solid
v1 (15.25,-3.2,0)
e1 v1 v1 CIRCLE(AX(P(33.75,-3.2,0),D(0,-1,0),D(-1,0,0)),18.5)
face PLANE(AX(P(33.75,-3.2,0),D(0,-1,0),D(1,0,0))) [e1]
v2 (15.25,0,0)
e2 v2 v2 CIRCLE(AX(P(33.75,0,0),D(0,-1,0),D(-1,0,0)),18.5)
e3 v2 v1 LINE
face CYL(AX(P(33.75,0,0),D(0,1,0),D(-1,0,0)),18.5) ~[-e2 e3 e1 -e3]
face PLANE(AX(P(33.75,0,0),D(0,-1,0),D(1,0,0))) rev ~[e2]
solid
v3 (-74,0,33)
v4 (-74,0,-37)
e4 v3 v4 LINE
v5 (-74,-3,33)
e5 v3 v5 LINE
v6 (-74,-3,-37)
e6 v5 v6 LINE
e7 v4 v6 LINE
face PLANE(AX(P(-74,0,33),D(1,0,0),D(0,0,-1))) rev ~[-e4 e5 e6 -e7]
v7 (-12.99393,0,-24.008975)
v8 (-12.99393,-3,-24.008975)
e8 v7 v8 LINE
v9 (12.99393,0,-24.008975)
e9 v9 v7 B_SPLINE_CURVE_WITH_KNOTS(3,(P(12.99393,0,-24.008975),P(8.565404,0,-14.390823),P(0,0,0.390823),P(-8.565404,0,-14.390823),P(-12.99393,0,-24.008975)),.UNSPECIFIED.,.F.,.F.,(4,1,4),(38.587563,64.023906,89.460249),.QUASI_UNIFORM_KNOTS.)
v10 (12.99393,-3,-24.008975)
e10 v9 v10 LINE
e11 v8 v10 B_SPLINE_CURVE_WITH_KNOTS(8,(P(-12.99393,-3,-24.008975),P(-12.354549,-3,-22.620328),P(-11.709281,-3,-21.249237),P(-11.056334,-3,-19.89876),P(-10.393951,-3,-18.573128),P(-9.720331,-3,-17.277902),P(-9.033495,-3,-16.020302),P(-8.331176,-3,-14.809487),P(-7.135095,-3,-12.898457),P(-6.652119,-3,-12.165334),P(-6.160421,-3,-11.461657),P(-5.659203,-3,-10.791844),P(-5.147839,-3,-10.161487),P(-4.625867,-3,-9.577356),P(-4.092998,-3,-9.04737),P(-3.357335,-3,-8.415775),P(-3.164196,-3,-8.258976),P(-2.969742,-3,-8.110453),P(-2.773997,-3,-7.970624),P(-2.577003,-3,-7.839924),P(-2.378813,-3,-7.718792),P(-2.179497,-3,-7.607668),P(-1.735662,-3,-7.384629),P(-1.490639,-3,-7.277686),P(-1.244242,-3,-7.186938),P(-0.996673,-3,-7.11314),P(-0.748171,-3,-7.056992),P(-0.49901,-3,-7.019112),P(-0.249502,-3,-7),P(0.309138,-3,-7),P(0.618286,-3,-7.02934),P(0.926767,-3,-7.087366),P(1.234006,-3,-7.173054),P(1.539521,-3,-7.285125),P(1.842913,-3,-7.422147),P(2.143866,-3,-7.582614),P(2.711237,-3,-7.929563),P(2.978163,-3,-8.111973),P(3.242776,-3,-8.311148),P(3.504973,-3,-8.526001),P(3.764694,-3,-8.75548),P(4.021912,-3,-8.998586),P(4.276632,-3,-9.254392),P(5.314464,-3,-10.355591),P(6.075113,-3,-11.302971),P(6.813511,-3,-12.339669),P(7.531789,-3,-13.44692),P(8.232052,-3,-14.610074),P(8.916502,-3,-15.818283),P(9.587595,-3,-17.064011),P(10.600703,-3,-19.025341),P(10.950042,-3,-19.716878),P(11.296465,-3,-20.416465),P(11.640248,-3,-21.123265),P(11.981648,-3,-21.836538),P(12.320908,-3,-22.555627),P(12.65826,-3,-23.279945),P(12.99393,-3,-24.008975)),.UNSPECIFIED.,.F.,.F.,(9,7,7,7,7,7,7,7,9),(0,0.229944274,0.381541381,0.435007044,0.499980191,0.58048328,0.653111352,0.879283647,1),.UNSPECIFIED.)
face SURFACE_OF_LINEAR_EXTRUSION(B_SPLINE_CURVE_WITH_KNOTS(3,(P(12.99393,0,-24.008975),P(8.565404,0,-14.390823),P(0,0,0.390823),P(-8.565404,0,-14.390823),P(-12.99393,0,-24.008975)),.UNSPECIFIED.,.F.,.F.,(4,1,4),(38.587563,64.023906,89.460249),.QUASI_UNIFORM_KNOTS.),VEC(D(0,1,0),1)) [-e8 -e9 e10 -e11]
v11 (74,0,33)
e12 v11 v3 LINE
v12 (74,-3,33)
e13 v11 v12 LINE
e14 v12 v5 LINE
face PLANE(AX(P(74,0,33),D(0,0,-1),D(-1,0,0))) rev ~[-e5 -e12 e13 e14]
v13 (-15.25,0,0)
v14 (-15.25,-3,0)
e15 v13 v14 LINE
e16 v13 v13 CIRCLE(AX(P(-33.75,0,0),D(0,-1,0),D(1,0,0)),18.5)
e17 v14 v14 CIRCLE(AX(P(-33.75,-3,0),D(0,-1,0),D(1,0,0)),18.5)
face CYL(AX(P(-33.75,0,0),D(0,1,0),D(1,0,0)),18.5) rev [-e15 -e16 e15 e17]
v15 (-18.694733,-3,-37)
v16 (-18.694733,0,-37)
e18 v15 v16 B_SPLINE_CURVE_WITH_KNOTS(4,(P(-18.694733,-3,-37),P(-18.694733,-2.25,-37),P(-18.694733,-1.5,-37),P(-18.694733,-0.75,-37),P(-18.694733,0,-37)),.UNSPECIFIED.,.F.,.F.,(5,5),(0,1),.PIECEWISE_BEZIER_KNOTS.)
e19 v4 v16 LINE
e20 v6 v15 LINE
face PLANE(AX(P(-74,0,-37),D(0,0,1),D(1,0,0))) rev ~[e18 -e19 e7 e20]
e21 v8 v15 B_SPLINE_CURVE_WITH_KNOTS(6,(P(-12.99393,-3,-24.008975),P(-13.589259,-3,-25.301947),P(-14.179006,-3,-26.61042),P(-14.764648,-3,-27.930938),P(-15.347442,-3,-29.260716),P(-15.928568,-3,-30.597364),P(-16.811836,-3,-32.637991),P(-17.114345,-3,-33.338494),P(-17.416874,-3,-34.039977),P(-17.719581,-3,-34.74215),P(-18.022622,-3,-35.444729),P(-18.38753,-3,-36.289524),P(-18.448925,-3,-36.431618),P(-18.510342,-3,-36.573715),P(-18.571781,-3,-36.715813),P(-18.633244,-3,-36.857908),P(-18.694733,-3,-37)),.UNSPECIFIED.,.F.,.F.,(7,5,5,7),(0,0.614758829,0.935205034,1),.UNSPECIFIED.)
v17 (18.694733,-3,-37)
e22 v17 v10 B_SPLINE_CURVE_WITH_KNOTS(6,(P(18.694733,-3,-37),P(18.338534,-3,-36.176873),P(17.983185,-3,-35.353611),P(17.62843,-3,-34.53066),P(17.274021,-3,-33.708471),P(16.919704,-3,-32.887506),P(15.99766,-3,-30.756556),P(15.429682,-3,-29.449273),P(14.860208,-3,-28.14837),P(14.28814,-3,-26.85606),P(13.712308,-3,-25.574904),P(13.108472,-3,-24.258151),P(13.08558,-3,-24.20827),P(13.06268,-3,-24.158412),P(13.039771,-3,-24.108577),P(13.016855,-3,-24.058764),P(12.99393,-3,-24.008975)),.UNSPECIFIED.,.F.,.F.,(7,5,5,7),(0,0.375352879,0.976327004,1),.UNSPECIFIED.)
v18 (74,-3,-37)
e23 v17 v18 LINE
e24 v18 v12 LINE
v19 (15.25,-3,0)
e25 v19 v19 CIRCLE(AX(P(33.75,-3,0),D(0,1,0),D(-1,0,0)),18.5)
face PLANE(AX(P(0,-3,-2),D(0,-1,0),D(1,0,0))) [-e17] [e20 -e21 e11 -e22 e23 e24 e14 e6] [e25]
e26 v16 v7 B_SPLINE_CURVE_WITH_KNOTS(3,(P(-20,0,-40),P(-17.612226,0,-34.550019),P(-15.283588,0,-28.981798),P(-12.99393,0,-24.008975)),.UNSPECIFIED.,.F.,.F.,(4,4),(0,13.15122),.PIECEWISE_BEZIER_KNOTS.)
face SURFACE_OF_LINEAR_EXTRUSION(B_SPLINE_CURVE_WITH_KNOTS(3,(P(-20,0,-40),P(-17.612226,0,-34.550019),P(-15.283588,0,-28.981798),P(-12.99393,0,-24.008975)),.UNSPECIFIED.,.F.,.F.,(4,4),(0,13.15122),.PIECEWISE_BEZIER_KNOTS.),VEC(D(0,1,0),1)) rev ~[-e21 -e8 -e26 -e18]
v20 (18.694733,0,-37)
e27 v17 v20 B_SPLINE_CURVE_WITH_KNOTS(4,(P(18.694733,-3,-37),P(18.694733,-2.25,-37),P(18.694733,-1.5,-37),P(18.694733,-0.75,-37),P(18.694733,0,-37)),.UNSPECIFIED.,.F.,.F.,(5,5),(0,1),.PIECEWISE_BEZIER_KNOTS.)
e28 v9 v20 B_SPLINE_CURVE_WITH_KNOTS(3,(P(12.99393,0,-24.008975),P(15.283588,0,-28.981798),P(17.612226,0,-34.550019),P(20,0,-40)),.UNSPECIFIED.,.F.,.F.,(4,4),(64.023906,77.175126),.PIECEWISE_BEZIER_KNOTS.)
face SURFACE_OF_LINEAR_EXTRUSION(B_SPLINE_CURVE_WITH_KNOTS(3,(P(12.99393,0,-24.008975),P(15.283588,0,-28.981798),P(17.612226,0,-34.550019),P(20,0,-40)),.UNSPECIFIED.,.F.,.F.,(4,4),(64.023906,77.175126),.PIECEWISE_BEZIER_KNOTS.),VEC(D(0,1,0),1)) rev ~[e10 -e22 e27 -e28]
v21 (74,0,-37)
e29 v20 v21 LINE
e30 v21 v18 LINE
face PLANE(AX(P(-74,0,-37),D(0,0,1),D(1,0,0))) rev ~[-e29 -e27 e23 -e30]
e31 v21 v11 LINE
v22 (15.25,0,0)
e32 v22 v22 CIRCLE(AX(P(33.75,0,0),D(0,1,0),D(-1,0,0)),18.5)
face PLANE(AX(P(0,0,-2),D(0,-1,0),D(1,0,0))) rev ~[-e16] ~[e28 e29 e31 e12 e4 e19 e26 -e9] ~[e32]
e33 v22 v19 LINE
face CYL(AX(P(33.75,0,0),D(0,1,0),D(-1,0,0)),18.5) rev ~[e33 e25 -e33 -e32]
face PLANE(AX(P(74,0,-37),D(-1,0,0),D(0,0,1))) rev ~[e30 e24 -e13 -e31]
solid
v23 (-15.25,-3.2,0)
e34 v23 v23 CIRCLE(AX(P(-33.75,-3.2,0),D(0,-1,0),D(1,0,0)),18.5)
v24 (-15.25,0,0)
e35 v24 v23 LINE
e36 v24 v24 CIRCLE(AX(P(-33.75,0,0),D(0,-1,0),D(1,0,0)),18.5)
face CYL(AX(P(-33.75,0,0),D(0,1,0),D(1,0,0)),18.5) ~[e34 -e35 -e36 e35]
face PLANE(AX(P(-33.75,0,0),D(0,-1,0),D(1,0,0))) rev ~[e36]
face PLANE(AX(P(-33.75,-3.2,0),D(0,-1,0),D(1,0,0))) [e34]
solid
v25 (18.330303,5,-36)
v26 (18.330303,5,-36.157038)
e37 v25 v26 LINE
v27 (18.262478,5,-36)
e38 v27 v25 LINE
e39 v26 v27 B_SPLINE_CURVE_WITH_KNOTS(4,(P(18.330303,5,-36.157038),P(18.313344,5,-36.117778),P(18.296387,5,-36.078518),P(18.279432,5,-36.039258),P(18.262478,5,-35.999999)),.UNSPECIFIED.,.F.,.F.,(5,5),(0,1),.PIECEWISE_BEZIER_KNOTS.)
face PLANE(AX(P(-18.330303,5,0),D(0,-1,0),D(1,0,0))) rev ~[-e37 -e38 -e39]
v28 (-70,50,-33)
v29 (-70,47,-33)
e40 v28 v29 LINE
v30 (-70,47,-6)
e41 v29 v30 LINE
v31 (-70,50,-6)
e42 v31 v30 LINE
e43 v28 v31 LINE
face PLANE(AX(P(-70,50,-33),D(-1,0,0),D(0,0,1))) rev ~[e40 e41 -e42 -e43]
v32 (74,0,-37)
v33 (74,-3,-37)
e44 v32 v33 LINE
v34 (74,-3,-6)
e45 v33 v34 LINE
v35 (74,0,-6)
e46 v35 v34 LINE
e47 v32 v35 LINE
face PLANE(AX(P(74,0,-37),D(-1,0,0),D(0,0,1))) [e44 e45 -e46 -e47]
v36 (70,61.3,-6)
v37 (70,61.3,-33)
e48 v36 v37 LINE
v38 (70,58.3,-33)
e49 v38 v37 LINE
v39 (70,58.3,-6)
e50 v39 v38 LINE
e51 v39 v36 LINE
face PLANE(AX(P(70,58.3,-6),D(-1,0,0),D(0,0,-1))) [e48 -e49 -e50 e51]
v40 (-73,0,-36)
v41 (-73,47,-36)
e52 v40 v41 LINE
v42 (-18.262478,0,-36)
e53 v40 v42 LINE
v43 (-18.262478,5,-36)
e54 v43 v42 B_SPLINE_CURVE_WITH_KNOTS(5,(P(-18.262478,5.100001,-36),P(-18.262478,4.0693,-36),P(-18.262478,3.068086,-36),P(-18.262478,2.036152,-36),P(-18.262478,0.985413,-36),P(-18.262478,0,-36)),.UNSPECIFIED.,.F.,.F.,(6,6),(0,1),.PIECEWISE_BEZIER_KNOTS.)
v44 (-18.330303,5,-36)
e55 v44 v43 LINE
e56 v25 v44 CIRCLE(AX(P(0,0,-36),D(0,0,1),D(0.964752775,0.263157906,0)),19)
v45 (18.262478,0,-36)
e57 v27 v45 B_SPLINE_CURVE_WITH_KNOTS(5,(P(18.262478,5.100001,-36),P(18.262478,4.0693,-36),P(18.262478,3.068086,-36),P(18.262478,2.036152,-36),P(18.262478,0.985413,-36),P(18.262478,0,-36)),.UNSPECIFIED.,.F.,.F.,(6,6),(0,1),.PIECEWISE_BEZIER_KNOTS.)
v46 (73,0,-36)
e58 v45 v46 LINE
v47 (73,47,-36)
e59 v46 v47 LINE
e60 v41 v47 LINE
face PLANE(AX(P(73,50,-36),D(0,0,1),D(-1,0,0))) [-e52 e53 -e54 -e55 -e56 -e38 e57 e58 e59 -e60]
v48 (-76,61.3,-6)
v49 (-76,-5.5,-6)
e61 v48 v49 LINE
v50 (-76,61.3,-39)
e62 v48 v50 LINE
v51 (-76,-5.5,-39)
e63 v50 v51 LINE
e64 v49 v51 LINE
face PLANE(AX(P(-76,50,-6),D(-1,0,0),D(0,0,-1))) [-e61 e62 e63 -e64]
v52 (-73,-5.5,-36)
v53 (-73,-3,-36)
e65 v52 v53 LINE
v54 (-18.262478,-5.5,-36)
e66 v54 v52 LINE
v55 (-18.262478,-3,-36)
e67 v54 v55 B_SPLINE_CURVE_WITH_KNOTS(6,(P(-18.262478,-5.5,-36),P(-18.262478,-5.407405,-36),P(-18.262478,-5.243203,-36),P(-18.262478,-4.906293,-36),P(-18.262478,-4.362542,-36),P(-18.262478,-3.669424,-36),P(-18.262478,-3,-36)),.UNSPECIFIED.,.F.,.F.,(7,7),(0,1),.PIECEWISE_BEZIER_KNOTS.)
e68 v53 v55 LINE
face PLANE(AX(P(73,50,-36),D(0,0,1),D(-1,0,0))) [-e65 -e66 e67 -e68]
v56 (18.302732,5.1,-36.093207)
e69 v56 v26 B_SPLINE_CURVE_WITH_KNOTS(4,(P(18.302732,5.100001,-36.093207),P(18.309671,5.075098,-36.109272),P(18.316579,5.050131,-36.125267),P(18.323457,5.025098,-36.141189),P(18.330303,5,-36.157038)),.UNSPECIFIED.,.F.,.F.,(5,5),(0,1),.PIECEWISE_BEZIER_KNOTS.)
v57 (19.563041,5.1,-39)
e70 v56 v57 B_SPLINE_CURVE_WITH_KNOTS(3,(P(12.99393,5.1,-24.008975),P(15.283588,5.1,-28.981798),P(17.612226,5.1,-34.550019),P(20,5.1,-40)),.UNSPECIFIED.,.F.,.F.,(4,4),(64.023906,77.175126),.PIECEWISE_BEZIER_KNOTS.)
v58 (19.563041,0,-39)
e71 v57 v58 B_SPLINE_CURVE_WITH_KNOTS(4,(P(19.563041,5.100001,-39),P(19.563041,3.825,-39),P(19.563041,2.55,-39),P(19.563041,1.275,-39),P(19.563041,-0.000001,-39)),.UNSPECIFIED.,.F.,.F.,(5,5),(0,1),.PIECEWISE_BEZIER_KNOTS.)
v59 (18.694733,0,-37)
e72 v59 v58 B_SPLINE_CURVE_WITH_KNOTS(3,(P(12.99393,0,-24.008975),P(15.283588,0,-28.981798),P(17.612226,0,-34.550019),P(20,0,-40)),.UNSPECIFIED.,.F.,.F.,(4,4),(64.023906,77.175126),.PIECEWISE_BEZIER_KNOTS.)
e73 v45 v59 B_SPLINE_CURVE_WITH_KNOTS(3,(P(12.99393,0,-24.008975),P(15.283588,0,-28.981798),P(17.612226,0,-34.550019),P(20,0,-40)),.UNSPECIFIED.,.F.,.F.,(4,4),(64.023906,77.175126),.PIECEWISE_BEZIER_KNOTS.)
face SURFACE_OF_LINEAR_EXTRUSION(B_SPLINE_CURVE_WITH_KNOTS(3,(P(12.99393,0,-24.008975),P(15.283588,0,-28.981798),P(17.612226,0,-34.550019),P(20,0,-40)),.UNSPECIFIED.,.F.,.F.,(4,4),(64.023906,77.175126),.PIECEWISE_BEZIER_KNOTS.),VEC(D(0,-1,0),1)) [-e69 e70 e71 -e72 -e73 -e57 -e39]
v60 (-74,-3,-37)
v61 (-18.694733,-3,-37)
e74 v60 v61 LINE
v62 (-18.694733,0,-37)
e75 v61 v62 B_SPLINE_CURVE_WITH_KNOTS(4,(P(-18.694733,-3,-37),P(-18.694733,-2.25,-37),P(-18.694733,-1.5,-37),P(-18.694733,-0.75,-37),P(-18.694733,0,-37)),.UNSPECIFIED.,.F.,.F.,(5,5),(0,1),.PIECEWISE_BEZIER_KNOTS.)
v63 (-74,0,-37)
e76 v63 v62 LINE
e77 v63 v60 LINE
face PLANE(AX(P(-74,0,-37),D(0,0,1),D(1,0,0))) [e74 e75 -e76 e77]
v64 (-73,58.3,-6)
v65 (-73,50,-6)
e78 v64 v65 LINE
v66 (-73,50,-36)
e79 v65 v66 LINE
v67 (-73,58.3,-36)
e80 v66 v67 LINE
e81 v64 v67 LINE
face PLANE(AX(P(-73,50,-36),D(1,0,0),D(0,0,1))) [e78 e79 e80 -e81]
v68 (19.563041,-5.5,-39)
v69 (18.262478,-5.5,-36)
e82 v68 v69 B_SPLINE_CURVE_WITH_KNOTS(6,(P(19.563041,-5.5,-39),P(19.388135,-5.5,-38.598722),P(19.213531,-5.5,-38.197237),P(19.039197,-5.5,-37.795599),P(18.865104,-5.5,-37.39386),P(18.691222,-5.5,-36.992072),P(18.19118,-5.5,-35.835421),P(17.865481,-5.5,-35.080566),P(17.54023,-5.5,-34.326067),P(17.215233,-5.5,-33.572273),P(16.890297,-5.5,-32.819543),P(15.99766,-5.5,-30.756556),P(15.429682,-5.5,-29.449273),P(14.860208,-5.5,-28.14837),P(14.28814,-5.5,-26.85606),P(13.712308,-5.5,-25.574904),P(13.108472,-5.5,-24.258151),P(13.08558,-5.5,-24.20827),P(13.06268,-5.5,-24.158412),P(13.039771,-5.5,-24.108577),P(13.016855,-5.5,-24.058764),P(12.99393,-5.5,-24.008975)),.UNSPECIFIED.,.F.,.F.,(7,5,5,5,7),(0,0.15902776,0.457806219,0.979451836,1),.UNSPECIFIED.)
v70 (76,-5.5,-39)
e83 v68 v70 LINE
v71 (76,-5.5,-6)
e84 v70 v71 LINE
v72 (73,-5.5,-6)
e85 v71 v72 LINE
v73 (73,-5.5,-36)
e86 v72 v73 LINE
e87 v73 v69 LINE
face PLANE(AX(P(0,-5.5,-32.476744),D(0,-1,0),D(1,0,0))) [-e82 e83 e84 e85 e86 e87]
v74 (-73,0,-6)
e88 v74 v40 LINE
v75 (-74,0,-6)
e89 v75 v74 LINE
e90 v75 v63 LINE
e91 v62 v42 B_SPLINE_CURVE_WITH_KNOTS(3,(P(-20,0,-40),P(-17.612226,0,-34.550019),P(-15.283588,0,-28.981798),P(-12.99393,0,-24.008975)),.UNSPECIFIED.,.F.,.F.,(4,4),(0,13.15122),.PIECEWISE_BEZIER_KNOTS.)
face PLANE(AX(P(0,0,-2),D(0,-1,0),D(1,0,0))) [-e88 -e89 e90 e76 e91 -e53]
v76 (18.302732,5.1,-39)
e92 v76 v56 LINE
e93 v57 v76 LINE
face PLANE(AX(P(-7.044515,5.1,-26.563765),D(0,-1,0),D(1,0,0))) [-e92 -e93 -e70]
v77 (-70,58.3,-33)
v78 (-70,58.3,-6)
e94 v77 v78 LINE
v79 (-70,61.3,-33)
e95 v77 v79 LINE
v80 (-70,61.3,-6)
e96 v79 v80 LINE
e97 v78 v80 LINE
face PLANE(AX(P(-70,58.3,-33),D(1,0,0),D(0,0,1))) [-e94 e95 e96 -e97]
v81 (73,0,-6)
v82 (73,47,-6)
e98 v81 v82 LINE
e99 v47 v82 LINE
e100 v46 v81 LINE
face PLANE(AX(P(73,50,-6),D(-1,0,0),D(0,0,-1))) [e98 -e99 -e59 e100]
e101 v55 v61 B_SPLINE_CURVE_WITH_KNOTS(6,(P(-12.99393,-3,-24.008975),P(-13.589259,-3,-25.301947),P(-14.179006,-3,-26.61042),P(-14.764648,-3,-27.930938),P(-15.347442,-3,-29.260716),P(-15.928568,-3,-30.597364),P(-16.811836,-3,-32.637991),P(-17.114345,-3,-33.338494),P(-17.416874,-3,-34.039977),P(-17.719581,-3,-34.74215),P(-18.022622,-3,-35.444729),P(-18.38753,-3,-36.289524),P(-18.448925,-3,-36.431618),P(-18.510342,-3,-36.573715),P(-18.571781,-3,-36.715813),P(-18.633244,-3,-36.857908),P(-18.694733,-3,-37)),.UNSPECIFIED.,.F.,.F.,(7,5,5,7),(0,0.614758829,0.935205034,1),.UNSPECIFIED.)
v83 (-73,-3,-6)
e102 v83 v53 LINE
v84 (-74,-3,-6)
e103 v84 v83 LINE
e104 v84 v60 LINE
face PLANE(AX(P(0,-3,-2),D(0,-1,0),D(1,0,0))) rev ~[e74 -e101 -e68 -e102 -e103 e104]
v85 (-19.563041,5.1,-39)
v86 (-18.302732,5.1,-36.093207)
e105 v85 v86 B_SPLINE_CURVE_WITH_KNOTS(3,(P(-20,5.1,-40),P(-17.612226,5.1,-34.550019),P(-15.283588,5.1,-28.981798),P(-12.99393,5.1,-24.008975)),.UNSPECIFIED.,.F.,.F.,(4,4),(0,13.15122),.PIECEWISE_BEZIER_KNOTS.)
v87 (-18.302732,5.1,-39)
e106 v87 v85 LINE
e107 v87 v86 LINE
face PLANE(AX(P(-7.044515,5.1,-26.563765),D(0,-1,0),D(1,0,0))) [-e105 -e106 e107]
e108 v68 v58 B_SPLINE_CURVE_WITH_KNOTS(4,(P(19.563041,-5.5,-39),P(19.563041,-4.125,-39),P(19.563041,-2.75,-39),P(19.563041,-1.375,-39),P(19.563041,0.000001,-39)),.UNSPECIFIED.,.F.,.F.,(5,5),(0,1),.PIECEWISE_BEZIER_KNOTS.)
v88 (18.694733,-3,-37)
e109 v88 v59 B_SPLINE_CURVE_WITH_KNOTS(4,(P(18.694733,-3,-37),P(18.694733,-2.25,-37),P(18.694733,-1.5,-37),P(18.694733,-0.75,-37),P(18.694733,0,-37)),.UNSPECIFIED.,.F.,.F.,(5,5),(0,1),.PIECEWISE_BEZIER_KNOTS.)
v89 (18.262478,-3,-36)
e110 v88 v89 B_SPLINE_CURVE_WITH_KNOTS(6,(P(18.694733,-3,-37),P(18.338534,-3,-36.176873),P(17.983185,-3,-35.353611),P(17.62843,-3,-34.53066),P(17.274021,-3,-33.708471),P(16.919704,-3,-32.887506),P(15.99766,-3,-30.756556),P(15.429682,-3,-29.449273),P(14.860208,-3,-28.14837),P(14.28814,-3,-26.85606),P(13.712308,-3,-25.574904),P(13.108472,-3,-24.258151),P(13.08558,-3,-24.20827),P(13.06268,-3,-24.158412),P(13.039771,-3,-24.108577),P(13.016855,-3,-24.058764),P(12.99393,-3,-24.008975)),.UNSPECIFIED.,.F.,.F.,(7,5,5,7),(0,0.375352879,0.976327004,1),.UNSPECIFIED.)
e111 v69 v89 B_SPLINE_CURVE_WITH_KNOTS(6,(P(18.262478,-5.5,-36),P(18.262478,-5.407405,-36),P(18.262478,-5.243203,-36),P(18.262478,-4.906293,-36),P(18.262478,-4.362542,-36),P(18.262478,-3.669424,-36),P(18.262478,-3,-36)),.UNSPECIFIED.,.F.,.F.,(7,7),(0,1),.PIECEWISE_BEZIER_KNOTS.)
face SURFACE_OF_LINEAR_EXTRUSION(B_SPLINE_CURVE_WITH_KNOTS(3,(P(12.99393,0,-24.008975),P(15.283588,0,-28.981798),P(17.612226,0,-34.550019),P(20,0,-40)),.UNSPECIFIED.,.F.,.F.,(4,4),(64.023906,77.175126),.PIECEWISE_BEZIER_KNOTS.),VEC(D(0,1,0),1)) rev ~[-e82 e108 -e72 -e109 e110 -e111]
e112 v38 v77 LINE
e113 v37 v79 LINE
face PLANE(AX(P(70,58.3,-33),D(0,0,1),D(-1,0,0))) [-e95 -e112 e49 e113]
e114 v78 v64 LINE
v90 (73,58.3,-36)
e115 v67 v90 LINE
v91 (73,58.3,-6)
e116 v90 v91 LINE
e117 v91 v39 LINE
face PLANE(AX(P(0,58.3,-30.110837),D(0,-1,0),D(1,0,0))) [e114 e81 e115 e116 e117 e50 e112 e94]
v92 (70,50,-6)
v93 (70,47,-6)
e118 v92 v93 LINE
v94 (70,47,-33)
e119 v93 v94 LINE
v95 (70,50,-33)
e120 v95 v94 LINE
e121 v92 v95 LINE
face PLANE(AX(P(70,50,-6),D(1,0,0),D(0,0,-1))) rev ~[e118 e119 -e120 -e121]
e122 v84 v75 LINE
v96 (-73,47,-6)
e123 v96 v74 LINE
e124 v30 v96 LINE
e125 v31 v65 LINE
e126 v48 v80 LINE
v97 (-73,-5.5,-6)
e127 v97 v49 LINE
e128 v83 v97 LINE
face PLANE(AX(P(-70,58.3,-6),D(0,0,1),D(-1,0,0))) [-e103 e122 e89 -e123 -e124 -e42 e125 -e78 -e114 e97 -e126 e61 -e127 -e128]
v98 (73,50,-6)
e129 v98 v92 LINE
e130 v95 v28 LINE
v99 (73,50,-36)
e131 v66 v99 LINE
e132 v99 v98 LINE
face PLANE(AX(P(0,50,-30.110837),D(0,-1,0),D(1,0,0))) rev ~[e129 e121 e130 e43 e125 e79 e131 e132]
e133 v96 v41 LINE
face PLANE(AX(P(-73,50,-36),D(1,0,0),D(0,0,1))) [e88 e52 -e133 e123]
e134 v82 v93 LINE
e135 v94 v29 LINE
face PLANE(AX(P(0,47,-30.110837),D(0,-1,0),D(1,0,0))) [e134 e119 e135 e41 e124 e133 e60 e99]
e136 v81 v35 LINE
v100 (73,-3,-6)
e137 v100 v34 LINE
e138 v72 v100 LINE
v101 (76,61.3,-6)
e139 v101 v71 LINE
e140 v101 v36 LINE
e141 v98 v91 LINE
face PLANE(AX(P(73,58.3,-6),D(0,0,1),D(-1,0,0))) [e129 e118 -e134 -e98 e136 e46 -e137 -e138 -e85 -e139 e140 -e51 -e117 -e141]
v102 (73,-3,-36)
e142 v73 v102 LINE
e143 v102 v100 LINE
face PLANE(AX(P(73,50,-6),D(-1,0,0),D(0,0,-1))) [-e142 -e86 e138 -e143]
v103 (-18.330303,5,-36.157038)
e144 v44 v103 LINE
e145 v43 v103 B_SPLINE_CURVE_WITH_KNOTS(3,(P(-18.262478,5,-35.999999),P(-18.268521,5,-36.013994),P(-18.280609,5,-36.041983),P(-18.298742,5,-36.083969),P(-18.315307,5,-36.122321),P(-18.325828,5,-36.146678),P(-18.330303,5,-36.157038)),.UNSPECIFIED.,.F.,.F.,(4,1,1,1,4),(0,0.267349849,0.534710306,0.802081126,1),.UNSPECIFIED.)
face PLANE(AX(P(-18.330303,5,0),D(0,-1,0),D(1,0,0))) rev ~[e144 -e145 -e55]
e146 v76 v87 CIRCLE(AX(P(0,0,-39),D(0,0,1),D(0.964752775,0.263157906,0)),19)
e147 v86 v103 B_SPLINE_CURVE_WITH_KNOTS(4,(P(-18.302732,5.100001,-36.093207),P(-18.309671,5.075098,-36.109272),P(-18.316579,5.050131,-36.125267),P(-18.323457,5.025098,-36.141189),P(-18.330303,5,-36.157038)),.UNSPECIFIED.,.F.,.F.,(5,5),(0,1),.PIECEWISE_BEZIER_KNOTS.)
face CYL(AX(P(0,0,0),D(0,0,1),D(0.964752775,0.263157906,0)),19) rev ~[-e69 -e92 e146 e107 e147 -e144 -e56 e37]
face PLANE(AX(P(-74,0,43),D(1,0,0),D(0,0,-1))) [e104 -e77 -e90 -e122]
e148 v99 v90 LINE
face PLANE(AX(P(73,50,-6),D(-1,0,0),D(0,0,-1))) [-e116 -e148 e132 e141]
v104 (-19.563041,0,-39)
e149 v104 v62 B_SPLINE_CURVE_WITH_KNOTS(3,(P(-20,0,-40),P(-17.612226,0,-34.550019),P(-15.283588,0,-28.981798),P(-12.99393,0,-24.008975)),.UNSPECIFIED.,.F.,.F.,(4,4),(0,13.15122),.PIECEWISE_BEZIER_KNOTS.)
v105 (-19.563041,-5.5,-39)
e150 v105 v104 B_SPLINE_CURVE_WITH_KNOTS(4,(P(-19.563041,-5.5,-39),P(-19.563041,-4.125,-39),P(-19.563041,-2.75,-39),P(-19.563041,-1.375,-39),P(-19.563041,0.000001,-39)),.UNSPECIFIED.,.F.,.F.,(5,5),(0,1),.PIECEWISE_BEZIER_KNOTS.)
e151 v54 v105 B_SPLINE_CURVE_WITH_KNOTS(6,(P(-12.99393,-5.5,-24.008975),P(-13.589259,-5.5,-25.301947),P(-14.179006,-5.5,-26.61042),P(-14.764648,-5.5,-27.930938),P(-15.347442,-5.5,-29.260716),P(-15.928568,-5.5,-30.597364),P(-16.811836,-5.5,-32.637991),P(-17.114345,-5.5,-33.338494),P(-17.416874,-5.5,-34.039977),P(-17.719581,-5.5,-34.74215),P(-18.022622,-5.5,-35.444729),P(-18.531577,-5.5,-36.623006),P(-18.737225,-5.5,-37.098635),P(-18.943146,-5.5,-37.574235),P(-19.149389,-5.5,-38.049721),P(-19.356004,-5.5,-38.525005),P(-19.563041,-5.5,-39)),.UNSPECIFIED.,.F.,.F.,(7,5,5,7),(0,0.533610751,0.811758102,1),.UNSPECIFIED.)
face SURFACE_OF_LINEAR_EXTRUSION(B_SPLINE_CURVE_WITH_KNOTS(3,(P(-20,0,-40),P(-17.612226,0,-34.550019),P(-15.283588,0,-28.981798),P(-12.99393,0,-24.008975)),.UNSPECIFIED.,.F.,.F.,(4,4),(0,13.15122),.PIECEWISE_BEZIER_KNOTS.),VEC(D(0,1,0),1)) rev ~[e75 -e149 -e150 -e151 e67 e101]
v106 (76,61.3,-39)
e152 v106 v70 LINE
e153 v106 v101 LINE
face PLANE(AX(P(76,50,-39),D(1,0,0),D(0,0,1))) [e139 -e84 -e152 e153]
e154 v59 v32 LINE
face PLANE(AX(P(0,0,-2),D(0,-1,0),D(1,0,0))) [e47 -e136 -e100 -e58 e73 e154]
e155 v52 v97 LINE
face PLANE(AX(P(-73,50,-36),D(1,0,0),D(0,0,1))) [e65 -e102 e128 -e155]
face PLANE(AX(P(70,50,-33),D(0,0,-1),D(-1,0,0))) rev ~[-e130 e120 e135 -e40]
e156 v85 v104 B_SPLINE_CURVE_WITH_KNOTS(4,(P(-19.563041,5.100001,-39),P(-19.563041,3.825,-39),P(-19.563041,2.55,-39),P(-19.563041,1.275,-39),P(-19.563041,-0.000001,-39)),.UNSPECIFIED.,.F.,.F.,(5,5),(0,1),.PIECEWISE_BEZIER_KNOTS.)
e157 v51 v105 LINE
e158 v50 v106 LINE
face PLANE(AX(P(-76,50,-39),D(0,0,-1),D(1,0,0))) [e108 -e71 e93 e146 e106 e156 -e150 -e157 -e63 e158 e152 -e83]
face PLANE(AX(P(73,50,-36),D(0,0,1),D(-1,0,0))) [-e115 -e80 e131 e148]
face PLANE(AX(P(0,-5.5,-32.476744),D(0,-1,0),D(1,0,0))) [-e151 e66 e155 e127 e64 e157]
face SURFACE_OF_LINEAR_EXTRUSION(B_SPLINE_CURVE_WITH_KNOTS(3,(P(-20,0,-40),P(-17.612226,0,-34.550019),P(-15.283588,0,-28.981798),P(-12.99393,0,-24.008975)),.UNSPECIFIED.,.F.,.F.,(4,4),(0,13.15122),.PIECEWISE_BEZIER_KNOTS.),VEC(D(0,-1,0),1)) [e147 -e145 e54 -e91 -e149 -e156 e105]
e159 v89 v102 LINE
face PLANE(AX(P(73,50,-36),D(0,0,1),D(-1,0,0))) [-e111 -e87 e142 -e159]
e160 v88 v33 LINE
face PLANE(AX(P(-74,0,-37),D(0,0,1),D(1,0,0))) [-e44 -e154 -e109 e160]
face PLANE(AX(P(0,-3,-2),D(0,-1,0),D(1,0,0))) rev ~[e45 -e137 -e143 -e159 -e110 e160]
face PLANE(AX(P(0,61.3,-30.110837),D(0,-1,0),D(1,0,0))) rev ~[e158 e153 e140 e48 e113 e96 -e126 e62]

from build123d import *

# Parameters (mm, degrees)
F0_R           = 18.5
F1_DEPTH       = 3.2
F5_DEPTH       = 55.5
F5_DEPTH_BACK  = 11.3
F6_R           = 18.5
F7_DEPTH       = 3
F8_DEPTH       = 3
F10_DEPTH      = 26.3
F10_DEPTH_BACK = 5.1
F12_DEPTH      = 63.1
F14_DEPTH      = 3
F17_DEPTH      = 3


with BuildPart() as f1:
    # F0 (on Front) → F1 (new body)
    with BuildSketch(Plane.XZ):
        with BuildLine():
            ThreePointArc((52.25, 0), (33.75, 18.5), (15.25, 0))
            ThreePointArc((15.25, 0), (33.75, -18.5), (52.25, 0))
        make_face()
        with Locations((-33.75, 0)):
            Circle(F0_R)
    extrude(amount=F1_DEPTH)


with BuildPart() as f5:
    # F4 (on offset) → F5 (new body, two sides)
    with BuildSketch(Plane.XZ.offset(-50)) as f5_sk:
        Polygon((-73, -36), (-73, -6), (-76, -6), (-76, -39), (76, -39), (76, -6), (73, -6), (73, -36), (0, -36), align=None)
    extrude(amount=F5_DEPTH)
    extrude(f5_sk.sketch, amount=-F5_DEPTH_BACK)

    # F6 (on Front) → F7 (cut)
    with BuildSketch(Plane.XZ):
        Polygon((74, 33), (0, 33), (-74, 33), (-74, -37), (74, -37), align=None)
        with Locations((-33.75, 0)):
            Circle(F6_R, mode=Mode.SUBTRACT)
        with BuildLine():
            ThreePointArc((52.25, 0), (33.75, -18.5), (15.25, 0))
            ThreePointArc((15.25, 0), (33.75, 18.5), (52.25, 0))
        make_face(mode=Mode.SUBTRACT)
        Polygon((-74, 33), (0, 33), (74, 33), (74, 43), (-74, 43), align=None)
    extrude(amount=F7_DEPTH, mode=Mode.SUBTRACT)


with BuildPart() as f8:
    # F6 (on Front) → F8 (new body)
    with BuildSketch(Plane.XZ):
        Polygon((74, 33), (0, 33), (-74, 33), (-74, -37), (74, -37), align=None)
        with Locations((-33.75, 0)):
            Circle(F6_R, mode=Mode.SUBTRACT)
        with BuildLine():
            ThreePointArc((52.25, 0), (33.75, -18.5), (15.25, 0))
            ThreePointArc((15.25, 0), (33.75, 18.5), (52.25, 0))
        make_face(mode=Mode.SUBTRACT)
    extrude(amount=F8_DEPTH)


with BuildPart() as f10_tool:
    # F9 (on Front) → F10 (new body, two sides)
    with BuildSketch(Plane.XZ) as f10_sk:
        with BuildLine():
            Line((-12.99393, -24.008975), (-20, -40))
            Line((-20, -40), (0, -40))
            Line((0, -40), (0, -7))
            add(Edge.make_bspline(
                [(-12.99393, -24.008975), (-8.565404, -14.390823), (-4.282702, -7), (0, -7)],
                knots=[13.15122, 13.15122, 13.15122, 13.15122, 38.587563, 38.587563, 38.587563, 38.587563], degree=3))
        make_face()
        with BuildLine():
            add(Edge.make_bspline(
                [(-20, -40), (-17.612226, -34.550019), (-15.283588, -28.981798), (-12.99393, -24.008975)],
                knots=[0, 0, 0, 0, 13.15122, 13.15122, 13.15122, 13.15122], degree=3))
            Line((-20, -40), (-12.99393, -24.008975))
        make_face()
        with BuildLine():
            Line((0, -7), (0, -40))
            Line((0, -40), (20, -40))
            Line((20, -40), (12.99393, -24.008975))
            add(Edge.make_bspline(
                [(0, -7), (4.282702, -7), (8.565404, -14.390823), (12.99393, -24.008975)],
                knots=[38.587563, 38.587563, 38.587563, 38.587563, 64.023906, 64.023906, 64.023906, 64.023906], degree=3))
        make_face()
        with BuildLine():
            Line((12.99393, -24.008975), (20, -40))
            add(Edge.make_bspline(
                [(12.99393, -24.008975), (15.283588, -28.981798), (17.612226, -34.550019), (20, -40)],
                knots=[64.023906, 64.023906, 64.023906, 64.023906, 77.175126, 77.175126, 77.175126, 77.175126], degree=3))
        make_face()
    extrude(amount=F10_DEPTH)
    extrude(f10_sk.sketch, amount=-F10_DEPTH_BACK)


with BuildPart() as f5_1:
    add(f5.part)

    # F10: cut by f10_tool
    add(f10_tool.part, mode=Mode.SUBTRACT)

    # F11 (on Top) → F12 (cut)
    with BuildSketch(Plane.XY):
        with BuildLine():
            Line((-18.330303, 5), (18.330303, 5))
            ThreePointArc((18.330303, 5), (0, 19), (-18.330303, 5))
        make_face()
    extrude(amount=-F12_DEPTH, mode=Mode.SUBTRACT)

    # F13 (on offset) → F14 (join)
    with BuildSketch(Plane.XZ.offset(-50)):
        Polygon((73, -36), (73, -6), (70, -6), (70, -33), (-70, -33), (-70, -6), (-73, -6), (-73, -36), align=None)
    extrude(amount=F14_DEPTH)

    # F16 (on offset) → F17 (join)
    with BuildSketch(Plane.XZ.offset(-58.3)):
        Polygon((73, -36), (73, -6), (70, -6), (70, -33), (-70, -33), (-70, -6), (-73, -6), (-73, -36), align=None)
    extrude(amount=-F17_DEPTH)


with BuildPart() as f8_1:
    add(f8.part)

    # F10: cut by f10_tool
    add(f10_tool.part, mode=Mode.SUBTRACT)


solid = Compound([f1.part, f5_1.part, f8_1.part])
